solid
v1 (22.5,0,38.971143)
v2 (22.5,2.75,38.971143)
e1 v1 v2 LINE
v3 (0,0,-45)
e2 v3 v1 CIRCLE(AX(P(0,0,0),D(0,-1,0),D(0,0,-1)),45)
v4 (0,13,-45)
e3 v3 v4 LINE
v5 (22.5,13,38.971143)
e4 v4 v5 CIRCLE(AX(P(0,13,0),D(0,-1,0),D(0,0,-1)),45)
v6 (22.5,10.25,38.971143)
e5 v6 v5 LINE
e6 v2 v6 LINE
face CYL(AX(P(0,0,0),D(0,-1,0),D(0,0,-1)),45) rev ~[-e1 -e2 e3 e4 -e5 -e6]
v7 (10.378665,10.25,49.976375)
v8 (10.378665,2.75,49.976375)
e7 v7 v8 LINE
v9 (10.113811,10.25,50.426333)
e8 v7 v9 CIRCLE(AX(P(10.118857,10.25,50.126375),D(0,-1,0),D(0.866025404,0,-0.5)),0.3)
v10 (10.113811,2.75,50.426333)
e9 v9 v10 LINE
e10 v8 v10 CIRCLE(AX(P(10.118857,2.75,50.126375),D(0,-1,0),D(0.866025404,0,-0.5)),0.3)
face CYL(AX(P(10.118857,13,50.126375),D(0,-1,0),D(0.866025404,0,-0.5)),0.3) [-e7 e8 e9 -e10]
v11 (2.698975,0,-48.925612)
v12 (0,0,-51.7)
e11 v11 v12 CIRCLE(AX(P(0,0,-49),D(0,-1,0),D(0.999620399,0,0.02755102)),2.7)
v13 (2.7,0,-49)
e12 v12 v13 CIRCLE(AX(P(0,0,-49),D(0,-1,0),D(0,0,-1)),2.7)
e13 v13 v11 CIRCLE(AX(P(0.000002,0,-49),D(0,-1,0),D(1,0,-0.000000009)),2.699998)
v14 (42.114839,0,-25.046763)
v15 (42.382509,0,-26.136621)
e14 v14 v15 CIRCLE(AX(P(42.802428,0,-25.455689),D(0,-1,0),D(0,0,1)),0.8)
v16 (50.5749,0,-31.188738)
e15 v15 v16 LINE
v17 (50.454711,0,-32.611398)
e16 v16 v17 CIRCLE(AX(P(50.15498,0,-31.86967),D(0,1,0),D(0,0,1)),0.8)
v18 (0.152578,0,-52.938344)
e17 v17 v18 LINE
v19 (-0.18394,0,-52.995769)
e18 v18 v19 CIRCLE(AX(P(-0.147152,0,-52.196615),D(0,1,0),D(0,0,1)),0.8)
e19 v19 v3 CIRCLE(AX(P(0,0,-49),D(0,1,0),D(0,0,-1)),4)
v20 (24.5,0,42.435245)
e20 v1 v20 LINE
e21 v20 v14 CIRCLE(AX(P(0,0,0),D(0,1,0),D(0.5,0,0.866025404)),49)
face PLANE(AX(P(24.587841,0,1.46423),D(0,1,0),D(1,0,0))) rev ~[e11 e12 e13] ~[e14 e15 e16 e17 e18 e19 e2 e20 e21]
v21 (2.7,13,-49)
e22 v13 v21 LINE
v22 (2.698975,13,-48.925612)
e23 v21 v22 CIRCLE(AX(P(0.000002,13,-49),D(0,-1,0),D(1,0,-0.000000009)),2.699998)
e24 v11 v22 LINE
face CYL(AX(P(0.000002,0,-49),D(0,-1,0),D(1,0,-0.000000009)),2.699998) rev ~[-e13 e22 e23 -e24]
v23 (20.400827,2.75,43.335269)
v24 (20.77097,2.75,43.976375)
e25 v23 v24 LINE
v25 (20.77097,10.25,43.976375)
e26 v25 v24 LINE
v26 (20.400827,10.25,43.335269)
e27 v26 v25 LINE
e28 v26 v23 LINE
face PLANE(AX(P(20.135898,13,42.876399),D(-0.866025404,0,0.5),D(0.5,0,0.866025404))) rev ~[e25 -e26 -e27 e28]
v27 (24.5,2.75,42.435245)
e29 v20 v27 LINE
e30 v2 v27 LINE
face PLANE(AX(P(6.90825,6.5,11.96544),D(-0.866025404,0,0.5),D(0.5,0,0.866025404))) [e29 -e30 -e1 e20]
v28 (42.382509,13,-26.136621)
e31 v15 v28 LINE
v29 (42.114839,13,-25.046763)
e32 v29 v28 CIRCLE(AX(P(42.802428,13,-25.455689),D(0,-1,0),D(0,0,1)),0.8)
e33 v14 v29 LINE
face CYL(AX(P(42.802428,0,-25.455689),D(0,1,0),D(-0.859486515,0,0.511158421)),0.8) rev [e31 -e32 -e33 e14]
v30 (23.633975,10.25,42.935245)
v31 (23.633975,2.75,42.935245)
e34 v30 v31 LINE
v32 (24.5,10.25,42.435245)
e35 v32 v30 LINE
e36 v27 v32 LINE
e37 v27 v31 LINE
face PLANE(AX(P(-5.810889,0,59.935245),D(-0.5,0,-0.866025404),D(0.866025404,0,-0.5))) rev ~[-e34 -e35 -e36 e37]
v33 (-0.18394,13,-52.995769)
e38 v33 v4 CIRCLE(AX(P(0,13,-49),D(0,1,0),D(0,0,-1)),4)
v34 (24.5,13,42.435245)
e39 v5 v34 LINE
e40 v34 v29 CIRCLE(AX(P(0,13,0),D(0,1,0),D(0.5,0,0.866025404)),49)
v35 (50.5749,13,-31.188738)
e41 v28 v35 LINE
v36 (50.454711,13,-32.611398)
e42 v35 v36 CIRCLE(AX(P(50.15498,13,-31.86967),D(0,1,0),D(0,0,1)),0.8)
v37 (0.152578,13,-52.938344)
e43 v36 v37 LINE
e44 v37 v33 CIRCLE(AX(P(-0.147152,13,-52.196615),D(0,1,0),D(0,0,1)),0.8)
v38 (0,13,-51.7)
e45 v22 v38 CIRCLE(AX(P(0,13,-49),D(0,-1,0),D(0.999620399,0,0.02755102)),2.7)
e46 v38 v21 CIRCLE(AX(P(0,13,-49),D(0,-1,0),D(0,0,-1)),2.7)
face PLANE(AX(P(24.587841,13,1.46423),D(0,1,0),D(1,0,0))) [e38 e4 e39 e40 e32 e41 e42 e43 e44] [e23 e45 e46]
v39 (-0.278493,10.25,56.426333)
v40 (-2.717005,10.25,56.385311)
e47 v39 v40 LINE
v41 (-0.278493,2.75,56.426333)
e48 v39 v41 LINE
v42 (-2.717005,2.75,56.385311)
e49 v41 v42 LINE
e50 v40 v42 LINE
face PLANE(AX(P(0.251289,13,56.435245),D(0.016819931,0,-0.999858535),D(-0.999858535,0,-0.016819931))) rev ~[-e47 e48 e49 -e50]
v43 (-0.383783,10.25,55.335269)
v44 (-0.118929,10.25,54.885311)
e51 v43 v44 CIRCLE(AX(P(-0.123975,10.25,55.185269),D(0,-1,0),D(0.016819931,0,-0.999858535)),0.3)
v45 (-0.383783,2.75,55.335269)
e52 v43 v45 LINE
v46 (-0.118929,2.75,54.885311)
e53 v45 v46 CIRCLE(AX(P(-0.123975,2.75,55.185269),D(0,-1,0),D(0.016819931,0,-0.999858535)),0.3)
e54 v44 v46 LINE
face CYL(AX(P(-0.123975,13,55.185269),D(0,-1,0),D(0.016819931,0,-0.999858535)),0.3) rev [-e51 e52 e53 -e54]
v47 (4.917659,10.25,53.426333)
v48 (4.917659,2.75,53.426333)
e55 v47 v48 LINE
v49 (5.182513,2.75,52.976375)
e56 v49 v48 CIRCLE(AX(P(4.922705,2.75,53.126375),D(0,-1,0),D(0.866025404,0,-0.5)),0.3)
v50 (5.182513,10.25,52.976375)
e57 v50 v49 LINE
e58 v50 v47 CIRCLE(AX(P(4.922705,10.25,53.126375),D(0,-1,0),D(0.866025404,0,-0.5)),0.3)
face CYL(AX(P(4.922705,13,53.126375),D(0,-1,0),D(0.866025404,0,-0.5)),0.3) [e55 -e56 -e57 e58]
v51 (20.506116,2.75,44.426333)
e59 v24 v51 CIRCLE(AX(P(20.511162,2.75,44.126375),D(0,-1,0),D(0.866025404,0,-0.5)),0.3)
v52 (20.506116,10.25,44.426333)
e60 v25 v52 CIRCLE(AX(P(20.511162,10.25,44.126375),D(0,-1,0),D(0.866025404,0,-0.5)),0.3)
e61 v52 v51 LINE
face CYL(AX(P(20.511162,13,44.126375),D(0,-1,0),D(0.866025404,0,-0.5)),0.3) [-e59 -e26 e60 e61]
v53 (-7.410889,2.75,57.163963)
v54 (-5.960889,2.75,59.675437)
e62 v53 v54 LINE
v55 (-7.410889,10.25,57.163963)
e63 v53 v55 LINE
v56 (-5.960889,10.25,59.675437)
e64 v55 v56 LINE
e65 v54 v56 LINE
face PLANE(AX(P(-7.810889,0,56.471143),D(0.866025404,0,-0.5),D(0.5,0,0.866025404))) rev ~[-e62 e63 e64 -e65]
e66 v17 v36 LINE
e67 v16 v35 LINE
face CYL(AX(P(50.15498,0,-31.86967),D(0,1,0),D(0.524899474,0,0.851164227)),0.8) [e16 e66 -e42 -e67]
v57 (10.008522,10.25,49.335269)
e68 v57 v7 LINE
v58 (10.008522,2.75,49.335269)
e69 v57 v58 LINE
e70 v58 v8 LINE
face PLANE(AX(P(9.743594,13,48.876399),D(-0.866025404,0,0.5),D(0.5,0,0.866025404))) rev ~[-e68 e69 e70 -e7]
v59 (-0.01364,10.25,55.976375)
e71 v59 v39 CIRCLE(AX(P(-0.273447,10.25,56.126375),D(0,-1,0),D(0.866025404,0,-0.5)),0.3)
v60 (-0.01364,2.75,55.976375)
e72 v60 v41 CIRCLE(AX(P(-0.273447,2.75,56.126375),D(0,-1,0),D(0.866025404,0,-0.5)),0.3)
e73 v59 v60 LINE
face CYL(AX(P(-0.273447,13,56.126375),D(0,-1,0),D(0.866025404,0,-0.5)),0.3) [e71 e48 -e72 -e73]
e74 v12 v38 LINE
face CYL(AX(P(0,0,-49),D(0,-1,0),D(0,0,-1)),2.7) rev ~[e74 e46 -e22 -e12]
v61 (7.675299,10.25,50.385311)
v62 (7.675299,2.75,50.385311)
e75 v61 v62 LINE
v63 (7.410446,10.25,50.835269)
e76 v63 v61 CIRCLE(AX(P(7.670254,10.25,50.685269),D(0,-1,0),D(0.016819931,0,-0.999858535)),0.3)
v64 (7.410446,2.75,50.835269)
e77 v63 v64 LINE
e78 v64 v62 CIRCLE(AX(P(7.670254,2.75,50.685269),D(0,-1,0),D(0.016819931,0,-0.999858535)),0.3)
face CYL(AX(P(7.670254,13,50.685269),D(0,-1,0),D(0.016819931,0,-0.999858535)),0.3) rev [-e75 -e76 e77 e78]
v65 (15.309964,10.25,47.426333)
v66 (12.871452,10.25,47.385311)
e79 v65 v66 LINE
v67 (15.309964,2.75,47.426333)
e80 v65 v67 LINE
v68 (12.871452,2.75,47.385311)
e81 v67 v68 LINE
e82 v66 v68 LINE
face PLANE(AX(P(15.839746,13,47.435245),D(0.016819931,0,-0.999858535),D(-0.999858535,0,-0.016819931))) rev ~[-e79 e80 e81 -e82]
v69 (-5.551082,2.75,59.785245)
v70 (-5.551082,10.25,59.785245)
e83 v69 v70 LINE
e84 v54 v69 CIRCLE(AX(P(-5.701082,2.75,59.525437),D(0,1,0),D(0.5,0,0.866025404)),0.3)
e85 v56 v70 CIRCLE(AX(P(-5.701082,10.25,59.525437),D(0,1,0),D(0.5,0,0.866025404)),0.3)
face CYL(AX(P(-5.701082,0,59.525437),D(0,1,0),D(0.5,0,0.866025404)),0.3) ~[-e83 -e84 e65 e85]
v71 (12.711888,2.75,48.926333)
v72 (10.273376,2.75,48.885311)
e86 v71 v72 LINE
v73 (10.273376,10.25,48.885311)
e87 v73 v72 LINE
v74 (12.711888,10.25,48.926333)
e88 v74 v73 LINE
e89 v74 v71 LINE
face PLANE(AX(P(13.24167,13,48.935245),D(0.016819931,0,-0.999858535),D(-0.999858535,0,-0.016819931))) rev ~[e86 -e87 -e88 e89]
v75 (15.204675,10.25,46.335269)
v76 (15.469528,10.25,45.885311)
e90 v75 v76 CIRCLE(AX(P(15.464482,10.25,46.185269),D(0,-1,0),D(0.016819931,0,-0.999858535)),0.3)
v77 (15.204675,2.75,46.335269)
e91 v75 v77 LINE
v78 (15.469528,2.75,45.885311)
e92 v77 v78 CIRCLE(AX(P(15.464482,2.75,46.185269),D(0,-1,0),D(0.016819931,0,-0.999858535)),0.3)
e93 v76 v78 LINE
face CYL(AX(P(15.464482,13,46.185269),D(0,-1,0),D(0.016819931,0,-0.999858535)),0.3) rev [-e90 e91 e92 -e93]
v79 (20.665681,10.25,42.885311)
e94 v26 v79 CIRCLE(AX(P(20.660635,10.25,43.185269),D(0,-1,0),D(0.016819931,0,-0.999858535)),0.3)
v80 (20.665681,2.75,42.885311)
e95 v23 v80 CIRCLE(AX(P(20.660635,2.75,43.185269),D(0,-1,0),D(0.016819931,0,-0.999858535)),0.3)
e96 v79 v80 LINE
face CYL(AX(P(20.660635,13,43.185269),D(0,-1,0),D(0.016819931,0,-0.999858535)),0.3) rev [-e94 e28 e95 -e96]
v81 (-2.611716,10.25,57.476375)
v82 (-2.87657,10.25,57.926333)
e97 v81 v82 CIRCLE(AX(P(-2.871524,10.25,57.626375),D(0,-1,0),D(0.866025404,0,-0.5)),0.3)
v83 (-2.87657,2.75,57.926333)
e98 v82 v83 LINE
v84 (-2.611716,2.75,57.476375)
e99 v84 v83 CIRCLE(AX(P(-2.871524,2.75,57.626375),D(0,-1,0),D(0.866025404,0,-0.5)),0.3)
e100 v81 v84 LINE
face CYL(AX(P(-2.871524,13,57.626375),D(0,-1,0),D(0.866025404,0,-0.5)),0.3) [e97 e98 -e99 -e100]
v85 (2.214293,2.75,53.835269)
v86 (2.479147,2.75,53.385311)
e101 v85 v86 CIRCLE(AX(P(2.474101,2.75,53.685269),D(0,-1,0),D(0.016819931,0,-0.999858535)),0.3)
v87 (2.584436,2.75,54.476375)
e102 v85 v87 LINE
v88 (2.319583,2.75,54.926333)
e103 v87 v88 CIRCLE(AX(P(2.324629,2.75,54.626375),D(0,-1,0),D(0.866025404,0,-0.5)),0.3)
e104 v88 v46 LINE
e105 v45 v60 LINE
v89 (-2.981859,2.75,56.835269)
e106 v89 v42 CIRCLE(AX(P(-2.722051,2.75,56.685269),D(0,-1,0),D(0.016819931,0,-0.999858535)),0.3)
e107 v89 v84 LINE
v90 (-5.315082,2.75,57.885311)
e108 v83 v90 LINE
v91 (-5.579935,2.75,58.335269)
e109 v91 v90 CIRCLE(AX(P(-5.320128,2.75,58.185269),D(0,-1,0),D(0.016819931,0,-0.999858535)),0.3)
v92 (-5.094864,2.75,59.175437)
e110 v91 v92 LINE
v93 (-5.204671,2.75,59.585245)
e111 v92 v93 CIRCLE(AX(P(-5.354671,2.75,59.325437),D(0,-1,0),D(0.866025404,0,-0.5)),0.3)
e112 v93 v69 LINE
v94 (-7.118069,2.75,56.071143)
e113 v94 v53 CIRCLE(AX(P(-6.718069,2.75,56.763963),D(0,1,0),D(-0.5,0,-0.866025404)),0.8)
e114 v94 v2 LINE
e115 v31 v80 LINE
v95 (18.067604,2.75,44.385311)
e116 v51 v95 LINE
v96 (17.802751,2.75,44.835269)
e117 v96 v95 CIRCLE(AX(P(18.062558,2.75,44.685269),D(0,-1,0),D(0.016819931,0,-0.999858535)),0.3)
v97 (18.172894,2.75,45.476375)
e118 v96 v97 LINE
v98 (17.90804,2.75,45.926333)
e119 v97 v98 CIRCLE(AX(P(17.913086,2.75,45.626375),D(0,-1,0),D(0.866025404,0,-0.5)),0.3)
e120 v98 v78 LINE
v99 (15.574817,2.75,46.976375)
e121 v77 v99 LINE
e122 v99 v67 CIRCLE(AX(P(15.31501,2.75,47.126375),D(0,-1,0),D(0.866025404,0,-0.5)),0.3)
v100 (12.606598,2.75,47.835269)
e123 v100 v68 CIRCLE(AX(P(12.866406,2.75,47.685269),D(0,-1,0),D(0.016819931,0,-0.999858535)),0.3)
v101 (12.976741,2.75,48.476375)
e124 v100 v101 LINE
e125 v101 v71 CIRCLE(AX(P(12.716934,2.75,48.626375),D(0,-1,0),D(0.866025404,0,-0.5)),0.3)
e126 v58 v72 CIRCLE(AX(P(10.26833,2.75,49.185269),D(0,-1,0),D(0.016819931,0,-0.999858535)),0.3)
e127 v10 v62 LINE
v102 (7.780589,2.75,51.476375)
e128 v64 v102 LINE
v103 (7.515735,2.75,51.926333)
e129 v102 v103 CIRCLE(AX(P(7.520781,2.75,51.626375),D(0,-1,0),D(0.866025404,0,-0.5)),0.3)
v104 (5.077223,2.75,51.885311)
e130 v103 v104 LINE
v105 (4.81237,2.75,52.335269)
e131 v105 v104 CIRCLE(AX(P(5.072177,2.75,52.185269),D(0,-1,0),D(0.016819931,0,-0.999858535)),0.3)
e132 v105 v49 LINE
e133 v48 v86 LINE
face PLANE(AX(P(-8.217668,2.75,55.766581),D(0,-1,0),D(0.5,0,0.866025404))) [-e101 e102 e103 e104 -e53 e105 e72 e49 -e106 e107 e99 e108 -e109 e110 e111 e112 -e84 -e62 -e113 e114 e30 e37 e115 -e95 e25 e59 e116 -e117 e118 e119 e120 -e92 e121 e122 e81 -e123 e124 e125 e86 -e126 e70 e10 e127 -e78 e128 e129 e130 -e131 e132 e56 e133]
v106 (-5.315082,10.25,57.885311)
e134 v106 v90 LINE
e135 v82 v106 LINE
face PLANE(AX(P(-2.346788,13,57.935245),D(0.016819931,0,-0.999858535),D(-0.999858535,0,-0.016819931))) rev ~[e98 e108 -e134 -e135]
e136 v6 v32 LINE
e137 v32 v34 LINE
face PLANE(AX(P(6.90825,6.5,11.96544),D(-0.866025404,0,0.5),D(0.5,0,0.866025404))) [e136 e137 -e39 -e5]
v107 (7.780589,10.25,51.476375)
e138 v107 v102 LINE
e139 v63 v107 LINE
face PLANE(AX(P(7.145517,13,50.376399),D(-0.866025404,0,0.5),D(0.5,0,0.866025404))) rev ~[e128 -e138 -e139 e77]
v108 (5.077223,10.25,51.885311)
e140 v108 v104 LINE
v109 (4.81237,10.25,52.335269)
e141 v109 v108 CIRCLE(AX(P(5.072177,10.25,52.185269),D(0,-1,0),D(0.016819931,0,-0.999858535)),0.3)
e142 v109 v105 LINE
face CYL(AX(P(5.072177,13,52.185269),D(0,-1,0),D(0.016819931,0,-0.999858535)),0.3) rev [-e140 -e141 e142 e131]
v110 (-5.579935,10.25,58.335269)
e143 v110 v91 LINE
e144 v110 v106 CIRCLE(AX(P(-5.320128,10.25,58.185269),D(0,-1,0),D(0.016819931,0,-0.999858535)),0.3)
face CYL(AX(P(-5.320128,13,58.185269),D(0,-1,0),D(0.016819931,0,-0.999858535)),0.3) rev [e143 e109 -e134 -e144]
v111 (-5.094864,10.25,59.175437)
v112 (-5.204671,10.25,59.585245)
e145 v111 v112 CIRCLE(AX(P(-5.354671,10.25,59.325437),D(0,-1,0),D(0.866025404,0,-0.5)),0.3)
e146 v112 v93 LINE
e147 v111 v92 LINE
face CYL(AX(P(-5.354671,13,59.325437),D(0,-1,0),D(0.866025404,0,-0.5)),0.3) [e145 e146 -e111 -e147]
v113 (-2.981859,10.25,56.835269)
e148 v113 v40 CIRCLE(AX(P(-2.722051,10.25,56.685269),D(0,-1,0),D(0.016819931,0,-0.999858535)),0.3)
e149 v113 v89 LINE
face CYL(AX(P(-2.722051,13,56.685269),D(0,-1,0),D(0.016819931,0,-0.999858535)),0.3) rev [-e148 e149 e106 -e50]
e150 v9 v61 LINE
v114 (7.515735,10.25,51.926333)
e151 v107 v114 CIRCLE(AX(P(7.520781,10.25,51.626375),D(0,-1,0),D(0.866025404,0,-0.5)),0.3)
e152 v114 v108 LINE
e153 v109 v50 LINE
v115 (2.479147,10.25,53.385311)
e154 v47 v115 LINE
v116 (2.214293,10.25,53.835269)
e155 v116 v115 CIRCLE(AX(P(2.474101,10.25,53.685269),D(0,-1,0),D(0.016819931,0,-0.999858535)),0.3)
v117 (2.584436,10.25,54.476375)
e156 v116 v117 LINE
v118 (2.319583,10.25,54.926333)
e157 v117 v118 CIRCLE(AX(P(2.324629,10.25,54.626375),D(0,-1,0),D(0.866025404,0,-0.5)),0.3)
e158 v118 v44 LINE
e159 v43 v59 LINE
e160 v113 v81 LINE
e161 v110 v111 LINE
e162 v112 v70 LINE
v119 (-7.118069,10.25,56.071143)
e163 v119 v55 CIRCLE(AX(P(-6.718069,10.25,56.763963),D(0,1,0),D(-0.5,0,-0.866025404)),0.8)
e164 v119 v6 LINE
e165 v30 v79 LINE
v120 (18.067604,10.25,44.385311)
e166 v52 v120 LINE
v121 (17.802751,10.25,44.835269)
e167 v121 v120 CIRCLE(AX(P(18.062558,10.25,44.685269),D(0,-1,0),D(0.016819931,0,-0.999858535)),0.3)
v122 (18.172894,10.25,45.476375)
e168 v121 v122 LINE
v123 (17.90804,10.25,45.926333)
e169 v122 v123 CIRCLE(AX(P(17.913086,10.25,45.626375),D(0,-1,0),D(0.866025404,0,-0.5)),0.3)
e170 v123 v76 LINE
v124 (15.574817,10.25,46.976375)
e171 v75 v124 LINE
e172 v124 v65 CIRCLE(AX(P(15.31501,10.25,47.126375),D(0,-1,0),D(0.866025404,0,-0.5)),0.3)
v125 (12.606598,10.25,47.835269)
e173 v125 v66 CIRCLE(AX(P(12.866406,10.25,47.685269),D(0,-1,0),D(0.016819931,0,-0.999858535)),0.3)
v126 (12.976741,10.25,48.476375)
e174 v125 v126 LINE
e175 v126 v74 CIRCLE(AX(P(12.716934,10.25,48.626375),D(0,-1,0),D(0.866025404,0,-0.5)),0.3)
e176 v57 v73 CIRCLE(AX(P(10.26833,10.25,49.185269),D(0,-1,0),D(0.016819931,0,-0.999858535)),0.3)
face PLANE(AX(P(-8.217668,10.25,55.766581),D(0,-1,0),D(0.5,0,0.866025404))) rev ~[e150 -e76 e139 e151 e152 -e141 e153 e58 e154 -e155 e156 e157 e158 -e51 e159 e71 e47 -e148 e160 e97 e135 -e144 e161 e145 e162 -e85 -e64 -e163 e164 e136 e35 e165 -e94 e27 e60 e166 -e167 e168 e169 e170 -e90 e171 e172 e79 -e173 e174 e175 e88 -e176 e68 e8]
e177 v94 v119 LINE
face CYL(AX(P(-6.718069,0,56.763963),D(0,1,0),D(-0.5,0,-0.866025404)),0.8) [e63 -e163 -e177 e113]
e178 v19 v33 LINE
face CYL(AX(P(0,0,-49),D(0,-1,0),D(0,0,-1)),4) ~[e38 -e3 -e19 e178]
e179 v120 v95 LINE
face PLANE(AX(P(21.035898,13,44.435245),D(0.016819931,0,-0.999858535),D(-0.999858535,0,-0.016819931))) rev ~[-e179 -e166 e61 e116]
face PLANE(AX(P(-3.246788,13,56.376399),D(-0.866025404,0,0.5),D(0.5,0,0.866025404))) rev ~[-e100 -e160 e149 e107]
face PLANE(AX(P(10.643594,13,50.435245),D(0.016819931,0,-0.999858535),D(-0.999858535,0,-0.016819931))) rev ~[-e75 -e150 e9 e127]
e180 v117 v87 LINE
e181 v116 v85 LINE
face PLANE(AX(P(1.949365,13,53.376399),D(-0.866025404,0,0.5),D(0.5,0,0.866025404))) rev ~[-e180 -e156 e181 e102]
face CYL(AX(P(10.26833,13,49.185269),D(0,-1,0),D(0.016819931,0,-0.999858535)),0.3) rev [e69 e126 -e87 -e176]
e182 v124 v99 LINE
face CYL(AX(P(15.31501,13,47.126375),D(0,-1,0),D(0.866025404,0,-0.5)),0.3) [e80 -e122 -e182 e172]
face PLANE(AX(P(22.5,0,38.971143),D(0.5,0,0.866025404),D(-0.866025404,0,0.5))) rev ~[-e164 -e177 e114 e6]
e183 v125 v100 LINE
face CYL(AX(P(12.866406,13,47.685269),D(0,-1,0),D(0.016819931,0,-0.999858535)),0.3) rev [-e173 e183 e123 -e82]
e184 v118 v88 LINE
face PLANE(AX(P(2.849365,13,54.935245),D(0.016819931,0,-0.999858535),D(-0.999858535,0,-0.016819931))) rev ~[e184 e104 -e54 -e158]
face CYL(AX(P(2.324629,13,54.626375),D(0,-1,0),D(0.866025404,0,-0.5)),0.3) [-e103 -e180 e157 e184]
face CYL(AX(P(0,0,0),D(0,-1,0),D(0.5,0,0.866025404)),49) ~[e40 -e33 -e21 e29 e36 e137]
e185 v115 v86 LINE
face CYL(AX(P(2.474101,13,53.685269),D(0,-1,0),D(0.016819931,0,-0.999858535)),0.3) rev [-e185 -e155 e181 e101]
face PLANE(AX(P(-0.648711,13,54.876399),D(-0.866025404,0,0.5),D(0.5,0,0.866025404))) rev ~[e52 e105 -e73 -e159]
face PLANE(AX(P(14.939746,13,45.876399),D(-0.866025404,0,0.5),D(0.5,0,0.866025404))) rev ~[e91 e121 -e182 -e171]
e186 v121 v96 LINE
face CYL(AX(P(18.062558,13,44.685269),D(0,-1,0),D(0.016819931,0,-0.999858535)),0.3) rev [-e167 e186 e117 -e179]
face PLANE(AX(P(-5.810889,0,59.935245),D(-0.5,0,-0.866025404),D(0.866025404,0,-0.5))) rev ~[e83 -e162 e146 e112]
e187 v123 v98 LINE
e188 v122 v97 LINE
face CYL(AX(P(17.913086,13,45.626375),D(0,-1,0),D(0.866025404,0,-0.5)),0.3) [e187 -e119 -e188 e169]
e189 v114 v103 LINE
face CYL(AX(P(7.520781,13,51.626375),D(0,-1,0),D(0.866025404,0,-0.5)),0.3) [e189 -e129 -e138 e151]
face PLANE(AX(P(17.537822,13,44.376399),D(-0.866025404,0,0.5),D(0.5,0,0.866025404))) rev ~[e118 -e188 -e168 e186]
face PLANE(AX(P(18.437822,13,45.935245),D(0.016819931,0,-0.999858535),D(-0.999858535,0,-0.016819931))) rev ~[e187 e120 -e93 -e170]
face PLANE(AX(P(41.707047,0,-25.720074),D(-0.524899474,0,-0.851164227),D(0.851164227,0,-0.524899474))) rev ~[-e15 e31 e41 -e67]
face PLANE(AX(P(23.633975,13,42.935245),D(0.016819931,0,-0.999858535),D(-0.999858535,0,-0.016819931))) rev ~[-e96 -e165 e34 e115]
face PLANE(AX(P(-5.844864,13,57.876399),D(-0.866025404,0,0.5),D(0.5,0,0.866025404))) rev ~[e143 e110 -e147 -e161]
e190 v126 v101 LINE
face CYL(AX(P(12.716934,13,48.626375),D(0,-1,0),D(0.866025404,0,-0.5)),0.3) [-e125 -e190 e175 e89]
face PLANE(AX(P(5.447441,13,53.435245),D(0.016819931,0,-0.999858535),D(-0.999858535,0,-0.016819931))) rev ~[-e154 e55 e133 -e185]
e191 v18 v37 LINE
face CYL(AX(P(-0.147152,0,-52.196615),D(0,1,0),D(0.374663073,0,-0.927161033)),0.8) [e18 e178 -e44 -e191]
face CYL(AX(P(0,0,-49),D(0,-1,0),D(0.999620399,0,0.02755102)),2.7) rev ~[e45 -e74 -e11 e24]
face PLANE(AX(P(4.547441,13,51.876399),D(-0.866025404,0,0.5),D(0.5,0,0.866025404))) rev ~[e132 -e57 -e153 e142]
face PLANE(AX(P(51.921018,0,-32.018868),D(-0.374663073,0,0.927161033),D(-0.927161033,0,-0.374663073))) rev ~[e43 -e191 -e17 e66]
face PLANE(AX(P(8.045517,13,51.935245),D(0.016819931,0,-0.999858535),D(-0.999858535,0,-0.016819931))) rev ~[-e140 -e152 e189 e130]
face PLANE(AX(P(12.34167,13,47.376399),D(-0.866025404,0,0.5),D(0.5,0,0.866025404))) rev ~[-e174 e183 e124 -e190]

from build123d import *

# Parameters (mm, degrees)
BOSS_EXTRUDE1_DEPTH = 13
CUT_EXTRUDE3_DEPTH  = 14
FILLET2_R           = 0.3
FILLET1_R           = 0.8
SKETCH3_OUTSIDE_W   = 154.491
SKETCH3_OUTSIDE_H   = 40.548
SKETCH3_OUTSIDE_W_2 = 5.910380326
SKETCH3_OUTSIDE_H_2 = 7.5
CUT_EXTRUDE2_DEPTH  = 35


with BuildPart() as part:
    # Sketch1 → Boss-Extrude1 (new body)
    with BuildSketch(Plane(origin=(0, 0, 0), x_dir=(1, 0, 0), z_dir=(0, 1, 0))):
        with BuildLine():
            Line((0, 51.7), (0, 53))
            ThreePointArc((0, 53), (-4, 49), (0, 45))
            ThreePointArc((0, 45), (43.466662183, 11.64685703), (22.5, -38.97114317))
            Line((22.5, -38.97114317), (-7.810889132, -56.47114317))
            Line((-7.810889132, -56.47114317), (-5.810889132, -59.935244785))
            Line((-5.810889132, -59.935244785), (24.5, -42.435244785))
            ThreePointArc((24.5, -42.435244785), (47.509263839, -11.994575836), (41.707047143, 25.720074234))
            ThreePointArc((41.707047143, 25.720074234), (25.051905135, 42.111780407), (2.698975076, 48.925612245))
            ThreePointArc((2.698975076, 48.925612245), (-1.935309657, 47.117295421), (0, 51.7))
        make_face()
        with BuildLine():
            Line((51.921017872, 32.018867925), (0, 53))
            Line((0, 53), (0, 51.7))
            ThreePointArc((0, 51.7), (1.909188309, 50.909188309), (2.7, 49))
            ThreePointArc((2.7, 49), (2.699743757, 48.962802592), (2.698975076, 48.925612245))
            ThreePointArc((2.698975076, 48.925612245), (25.051905135, 42.111780407), (41.707047143, 25.720074234))
            Line((41.707047143, 25.720074234), (51.921017872, 32.018867925))
        make_face()
    extrude(amount=BOSS_EXTRUDE1_DEPTH)

    # Sketch2 → Cut-Extrude3 (cut, through all)
    with BuildSketch(Plane(origin=(0, 13, 0), x_dir=(1, 0, 0), z_dir=(0, 1, 0))):
        Polygon((-5.844863729, -57.876399059), (-4.944863729, -59.435244785), (-2.346787517, -57.935244785), align=None)
        Polygon((-3.246787517, -56.376399059), (-2.346787517, -57.935244785), (0.251288694, -56.435244785), align=None)
        Polygon((-0.648711306, -54.876399059), (0.251288694, -56.435244785), (2.849364905, -54.935244785), align=None)
        Polygon((1.949364905, -53.376399059), (2.849364905, -54.935244785), (5.447441117, -53.435244785), align=None)
        Polygon((4.547441117, -51.876399059), (5.447441117, -53.435244785), (8.045517328, -51.935244785), align=None)
        Polygon((7.145517328, -50.376399059), (8.045517328, -51.935244785), (10.643593539, -50.435244785), align=None)
        Polygon((9.743593539, -48.876399059), (10.643593539, -50.435244785), (13.241669751, -48.935244785), align=None)
        Polygon((12.341669751, -47.376399059), (13.241669751, -48.935244785), (15.839745962, -47.435244785), align=None)
        Polygon((14.939745962, -45.876399059), (15.839745962, -47.435244785), (18.437822174, -45.935244785), align=None)
        Polygon((17.537822174, -44.376399059), (18.437822174, -45.935244785), (21.035898385, -44.435244785), align=None)
        Polygon((20.135898385, -42.876399059), (21.035898385, -44.435244785), (23.633974596, -42.935244785), align=None)
    extrude(amount=-CUT_EXTRUDE3_DEPTH, mode=Mode.SUBTRACT)

    # Fillet2
    fillet2_edges = [part.edges().sort_by_distance(p)[0] for p in [
        (-3.246787517, 6.5, 56.376399059),
        (0.251288694, 6.5, 56.435244785),
        (1.949364905, 6.5, 53.376399059),
        (5.447441117, 6.5, 53.435244785),
        (7.145517328, 6.5, 50.376399059),
        (10.643593539, 6.5, 50.435244785),
        (12.341669751, 6.5, 47.376399059),
        (15.839745962, 6.5, 47.435244785),
        (17.537822174, 6.5, 44.376399059),
        (21.035898385, 6.5, 44.435244785),
        (-5.810889132, 6.5, 59.935244785),
        (-5.844863729, 6.5, 57.876399059),
        (-2.346787517, 6.5, 57.935244785),
        (-4.944863729, 6.5, 59.435244785),
        (-0.648711306, 6.5, 54.876399059),
        (2.849364905, 6.5, 54.935244785),
        (4.547441117, 6.5, 51.876399059),
        (8.045517328, 6.5, 51.935244785),
        (9.743593539, 6.5, 48.876399059),
        (13.241669751, 6.5, 48.935244785),
        (14.939745962, 6.5, 45.876399059),
        (18.437822174, 6.5, 45.935244785),
        (20.135898385, 6.5, 42.876399059),
    ]]
    fillet(fillet2_edges, radius=FILLET2_R)

    # Fillet1
    fillet1_edges = [part.edges().sort_by_distance(p)[0] for p in [
        (51.921017872, 6.5, -32.018867925),
        (41.707047143, 6.5, -25.720074234),
        (-7.810889132, 6.5, 56.47114317),
        (0, 6.5, -53),
    ]]
    fillet(fillet1_edges, radius=FILLET1_R)

    # Sketch3 outside → Cut-Extrude2 (cut)
    with BuildSketch(Plane(origin=(-30.310889132, 0, 17.5), x_dir=(0.5, 0, 0.866025404), z_dir=(-0.866025404, 0, 0.5))):
        with Locations((13.8165, 6.5)):
            Rectangle(SKETCH3_OUTSIDE_W, SKETCH3_OUTSIDE_H)
        with Locations((47.141631591, 6.5)):
            Rectangle(SKETCH3_OUTSIDE_W_2, SKETCH3_OUTSIDE_H_2, mode=Mode.SUBTRACT)
    extrude(amount=-CUT_EXTRUDE2_DEPTH, mode=Mode.SUBTRACT)


solid = part.part
